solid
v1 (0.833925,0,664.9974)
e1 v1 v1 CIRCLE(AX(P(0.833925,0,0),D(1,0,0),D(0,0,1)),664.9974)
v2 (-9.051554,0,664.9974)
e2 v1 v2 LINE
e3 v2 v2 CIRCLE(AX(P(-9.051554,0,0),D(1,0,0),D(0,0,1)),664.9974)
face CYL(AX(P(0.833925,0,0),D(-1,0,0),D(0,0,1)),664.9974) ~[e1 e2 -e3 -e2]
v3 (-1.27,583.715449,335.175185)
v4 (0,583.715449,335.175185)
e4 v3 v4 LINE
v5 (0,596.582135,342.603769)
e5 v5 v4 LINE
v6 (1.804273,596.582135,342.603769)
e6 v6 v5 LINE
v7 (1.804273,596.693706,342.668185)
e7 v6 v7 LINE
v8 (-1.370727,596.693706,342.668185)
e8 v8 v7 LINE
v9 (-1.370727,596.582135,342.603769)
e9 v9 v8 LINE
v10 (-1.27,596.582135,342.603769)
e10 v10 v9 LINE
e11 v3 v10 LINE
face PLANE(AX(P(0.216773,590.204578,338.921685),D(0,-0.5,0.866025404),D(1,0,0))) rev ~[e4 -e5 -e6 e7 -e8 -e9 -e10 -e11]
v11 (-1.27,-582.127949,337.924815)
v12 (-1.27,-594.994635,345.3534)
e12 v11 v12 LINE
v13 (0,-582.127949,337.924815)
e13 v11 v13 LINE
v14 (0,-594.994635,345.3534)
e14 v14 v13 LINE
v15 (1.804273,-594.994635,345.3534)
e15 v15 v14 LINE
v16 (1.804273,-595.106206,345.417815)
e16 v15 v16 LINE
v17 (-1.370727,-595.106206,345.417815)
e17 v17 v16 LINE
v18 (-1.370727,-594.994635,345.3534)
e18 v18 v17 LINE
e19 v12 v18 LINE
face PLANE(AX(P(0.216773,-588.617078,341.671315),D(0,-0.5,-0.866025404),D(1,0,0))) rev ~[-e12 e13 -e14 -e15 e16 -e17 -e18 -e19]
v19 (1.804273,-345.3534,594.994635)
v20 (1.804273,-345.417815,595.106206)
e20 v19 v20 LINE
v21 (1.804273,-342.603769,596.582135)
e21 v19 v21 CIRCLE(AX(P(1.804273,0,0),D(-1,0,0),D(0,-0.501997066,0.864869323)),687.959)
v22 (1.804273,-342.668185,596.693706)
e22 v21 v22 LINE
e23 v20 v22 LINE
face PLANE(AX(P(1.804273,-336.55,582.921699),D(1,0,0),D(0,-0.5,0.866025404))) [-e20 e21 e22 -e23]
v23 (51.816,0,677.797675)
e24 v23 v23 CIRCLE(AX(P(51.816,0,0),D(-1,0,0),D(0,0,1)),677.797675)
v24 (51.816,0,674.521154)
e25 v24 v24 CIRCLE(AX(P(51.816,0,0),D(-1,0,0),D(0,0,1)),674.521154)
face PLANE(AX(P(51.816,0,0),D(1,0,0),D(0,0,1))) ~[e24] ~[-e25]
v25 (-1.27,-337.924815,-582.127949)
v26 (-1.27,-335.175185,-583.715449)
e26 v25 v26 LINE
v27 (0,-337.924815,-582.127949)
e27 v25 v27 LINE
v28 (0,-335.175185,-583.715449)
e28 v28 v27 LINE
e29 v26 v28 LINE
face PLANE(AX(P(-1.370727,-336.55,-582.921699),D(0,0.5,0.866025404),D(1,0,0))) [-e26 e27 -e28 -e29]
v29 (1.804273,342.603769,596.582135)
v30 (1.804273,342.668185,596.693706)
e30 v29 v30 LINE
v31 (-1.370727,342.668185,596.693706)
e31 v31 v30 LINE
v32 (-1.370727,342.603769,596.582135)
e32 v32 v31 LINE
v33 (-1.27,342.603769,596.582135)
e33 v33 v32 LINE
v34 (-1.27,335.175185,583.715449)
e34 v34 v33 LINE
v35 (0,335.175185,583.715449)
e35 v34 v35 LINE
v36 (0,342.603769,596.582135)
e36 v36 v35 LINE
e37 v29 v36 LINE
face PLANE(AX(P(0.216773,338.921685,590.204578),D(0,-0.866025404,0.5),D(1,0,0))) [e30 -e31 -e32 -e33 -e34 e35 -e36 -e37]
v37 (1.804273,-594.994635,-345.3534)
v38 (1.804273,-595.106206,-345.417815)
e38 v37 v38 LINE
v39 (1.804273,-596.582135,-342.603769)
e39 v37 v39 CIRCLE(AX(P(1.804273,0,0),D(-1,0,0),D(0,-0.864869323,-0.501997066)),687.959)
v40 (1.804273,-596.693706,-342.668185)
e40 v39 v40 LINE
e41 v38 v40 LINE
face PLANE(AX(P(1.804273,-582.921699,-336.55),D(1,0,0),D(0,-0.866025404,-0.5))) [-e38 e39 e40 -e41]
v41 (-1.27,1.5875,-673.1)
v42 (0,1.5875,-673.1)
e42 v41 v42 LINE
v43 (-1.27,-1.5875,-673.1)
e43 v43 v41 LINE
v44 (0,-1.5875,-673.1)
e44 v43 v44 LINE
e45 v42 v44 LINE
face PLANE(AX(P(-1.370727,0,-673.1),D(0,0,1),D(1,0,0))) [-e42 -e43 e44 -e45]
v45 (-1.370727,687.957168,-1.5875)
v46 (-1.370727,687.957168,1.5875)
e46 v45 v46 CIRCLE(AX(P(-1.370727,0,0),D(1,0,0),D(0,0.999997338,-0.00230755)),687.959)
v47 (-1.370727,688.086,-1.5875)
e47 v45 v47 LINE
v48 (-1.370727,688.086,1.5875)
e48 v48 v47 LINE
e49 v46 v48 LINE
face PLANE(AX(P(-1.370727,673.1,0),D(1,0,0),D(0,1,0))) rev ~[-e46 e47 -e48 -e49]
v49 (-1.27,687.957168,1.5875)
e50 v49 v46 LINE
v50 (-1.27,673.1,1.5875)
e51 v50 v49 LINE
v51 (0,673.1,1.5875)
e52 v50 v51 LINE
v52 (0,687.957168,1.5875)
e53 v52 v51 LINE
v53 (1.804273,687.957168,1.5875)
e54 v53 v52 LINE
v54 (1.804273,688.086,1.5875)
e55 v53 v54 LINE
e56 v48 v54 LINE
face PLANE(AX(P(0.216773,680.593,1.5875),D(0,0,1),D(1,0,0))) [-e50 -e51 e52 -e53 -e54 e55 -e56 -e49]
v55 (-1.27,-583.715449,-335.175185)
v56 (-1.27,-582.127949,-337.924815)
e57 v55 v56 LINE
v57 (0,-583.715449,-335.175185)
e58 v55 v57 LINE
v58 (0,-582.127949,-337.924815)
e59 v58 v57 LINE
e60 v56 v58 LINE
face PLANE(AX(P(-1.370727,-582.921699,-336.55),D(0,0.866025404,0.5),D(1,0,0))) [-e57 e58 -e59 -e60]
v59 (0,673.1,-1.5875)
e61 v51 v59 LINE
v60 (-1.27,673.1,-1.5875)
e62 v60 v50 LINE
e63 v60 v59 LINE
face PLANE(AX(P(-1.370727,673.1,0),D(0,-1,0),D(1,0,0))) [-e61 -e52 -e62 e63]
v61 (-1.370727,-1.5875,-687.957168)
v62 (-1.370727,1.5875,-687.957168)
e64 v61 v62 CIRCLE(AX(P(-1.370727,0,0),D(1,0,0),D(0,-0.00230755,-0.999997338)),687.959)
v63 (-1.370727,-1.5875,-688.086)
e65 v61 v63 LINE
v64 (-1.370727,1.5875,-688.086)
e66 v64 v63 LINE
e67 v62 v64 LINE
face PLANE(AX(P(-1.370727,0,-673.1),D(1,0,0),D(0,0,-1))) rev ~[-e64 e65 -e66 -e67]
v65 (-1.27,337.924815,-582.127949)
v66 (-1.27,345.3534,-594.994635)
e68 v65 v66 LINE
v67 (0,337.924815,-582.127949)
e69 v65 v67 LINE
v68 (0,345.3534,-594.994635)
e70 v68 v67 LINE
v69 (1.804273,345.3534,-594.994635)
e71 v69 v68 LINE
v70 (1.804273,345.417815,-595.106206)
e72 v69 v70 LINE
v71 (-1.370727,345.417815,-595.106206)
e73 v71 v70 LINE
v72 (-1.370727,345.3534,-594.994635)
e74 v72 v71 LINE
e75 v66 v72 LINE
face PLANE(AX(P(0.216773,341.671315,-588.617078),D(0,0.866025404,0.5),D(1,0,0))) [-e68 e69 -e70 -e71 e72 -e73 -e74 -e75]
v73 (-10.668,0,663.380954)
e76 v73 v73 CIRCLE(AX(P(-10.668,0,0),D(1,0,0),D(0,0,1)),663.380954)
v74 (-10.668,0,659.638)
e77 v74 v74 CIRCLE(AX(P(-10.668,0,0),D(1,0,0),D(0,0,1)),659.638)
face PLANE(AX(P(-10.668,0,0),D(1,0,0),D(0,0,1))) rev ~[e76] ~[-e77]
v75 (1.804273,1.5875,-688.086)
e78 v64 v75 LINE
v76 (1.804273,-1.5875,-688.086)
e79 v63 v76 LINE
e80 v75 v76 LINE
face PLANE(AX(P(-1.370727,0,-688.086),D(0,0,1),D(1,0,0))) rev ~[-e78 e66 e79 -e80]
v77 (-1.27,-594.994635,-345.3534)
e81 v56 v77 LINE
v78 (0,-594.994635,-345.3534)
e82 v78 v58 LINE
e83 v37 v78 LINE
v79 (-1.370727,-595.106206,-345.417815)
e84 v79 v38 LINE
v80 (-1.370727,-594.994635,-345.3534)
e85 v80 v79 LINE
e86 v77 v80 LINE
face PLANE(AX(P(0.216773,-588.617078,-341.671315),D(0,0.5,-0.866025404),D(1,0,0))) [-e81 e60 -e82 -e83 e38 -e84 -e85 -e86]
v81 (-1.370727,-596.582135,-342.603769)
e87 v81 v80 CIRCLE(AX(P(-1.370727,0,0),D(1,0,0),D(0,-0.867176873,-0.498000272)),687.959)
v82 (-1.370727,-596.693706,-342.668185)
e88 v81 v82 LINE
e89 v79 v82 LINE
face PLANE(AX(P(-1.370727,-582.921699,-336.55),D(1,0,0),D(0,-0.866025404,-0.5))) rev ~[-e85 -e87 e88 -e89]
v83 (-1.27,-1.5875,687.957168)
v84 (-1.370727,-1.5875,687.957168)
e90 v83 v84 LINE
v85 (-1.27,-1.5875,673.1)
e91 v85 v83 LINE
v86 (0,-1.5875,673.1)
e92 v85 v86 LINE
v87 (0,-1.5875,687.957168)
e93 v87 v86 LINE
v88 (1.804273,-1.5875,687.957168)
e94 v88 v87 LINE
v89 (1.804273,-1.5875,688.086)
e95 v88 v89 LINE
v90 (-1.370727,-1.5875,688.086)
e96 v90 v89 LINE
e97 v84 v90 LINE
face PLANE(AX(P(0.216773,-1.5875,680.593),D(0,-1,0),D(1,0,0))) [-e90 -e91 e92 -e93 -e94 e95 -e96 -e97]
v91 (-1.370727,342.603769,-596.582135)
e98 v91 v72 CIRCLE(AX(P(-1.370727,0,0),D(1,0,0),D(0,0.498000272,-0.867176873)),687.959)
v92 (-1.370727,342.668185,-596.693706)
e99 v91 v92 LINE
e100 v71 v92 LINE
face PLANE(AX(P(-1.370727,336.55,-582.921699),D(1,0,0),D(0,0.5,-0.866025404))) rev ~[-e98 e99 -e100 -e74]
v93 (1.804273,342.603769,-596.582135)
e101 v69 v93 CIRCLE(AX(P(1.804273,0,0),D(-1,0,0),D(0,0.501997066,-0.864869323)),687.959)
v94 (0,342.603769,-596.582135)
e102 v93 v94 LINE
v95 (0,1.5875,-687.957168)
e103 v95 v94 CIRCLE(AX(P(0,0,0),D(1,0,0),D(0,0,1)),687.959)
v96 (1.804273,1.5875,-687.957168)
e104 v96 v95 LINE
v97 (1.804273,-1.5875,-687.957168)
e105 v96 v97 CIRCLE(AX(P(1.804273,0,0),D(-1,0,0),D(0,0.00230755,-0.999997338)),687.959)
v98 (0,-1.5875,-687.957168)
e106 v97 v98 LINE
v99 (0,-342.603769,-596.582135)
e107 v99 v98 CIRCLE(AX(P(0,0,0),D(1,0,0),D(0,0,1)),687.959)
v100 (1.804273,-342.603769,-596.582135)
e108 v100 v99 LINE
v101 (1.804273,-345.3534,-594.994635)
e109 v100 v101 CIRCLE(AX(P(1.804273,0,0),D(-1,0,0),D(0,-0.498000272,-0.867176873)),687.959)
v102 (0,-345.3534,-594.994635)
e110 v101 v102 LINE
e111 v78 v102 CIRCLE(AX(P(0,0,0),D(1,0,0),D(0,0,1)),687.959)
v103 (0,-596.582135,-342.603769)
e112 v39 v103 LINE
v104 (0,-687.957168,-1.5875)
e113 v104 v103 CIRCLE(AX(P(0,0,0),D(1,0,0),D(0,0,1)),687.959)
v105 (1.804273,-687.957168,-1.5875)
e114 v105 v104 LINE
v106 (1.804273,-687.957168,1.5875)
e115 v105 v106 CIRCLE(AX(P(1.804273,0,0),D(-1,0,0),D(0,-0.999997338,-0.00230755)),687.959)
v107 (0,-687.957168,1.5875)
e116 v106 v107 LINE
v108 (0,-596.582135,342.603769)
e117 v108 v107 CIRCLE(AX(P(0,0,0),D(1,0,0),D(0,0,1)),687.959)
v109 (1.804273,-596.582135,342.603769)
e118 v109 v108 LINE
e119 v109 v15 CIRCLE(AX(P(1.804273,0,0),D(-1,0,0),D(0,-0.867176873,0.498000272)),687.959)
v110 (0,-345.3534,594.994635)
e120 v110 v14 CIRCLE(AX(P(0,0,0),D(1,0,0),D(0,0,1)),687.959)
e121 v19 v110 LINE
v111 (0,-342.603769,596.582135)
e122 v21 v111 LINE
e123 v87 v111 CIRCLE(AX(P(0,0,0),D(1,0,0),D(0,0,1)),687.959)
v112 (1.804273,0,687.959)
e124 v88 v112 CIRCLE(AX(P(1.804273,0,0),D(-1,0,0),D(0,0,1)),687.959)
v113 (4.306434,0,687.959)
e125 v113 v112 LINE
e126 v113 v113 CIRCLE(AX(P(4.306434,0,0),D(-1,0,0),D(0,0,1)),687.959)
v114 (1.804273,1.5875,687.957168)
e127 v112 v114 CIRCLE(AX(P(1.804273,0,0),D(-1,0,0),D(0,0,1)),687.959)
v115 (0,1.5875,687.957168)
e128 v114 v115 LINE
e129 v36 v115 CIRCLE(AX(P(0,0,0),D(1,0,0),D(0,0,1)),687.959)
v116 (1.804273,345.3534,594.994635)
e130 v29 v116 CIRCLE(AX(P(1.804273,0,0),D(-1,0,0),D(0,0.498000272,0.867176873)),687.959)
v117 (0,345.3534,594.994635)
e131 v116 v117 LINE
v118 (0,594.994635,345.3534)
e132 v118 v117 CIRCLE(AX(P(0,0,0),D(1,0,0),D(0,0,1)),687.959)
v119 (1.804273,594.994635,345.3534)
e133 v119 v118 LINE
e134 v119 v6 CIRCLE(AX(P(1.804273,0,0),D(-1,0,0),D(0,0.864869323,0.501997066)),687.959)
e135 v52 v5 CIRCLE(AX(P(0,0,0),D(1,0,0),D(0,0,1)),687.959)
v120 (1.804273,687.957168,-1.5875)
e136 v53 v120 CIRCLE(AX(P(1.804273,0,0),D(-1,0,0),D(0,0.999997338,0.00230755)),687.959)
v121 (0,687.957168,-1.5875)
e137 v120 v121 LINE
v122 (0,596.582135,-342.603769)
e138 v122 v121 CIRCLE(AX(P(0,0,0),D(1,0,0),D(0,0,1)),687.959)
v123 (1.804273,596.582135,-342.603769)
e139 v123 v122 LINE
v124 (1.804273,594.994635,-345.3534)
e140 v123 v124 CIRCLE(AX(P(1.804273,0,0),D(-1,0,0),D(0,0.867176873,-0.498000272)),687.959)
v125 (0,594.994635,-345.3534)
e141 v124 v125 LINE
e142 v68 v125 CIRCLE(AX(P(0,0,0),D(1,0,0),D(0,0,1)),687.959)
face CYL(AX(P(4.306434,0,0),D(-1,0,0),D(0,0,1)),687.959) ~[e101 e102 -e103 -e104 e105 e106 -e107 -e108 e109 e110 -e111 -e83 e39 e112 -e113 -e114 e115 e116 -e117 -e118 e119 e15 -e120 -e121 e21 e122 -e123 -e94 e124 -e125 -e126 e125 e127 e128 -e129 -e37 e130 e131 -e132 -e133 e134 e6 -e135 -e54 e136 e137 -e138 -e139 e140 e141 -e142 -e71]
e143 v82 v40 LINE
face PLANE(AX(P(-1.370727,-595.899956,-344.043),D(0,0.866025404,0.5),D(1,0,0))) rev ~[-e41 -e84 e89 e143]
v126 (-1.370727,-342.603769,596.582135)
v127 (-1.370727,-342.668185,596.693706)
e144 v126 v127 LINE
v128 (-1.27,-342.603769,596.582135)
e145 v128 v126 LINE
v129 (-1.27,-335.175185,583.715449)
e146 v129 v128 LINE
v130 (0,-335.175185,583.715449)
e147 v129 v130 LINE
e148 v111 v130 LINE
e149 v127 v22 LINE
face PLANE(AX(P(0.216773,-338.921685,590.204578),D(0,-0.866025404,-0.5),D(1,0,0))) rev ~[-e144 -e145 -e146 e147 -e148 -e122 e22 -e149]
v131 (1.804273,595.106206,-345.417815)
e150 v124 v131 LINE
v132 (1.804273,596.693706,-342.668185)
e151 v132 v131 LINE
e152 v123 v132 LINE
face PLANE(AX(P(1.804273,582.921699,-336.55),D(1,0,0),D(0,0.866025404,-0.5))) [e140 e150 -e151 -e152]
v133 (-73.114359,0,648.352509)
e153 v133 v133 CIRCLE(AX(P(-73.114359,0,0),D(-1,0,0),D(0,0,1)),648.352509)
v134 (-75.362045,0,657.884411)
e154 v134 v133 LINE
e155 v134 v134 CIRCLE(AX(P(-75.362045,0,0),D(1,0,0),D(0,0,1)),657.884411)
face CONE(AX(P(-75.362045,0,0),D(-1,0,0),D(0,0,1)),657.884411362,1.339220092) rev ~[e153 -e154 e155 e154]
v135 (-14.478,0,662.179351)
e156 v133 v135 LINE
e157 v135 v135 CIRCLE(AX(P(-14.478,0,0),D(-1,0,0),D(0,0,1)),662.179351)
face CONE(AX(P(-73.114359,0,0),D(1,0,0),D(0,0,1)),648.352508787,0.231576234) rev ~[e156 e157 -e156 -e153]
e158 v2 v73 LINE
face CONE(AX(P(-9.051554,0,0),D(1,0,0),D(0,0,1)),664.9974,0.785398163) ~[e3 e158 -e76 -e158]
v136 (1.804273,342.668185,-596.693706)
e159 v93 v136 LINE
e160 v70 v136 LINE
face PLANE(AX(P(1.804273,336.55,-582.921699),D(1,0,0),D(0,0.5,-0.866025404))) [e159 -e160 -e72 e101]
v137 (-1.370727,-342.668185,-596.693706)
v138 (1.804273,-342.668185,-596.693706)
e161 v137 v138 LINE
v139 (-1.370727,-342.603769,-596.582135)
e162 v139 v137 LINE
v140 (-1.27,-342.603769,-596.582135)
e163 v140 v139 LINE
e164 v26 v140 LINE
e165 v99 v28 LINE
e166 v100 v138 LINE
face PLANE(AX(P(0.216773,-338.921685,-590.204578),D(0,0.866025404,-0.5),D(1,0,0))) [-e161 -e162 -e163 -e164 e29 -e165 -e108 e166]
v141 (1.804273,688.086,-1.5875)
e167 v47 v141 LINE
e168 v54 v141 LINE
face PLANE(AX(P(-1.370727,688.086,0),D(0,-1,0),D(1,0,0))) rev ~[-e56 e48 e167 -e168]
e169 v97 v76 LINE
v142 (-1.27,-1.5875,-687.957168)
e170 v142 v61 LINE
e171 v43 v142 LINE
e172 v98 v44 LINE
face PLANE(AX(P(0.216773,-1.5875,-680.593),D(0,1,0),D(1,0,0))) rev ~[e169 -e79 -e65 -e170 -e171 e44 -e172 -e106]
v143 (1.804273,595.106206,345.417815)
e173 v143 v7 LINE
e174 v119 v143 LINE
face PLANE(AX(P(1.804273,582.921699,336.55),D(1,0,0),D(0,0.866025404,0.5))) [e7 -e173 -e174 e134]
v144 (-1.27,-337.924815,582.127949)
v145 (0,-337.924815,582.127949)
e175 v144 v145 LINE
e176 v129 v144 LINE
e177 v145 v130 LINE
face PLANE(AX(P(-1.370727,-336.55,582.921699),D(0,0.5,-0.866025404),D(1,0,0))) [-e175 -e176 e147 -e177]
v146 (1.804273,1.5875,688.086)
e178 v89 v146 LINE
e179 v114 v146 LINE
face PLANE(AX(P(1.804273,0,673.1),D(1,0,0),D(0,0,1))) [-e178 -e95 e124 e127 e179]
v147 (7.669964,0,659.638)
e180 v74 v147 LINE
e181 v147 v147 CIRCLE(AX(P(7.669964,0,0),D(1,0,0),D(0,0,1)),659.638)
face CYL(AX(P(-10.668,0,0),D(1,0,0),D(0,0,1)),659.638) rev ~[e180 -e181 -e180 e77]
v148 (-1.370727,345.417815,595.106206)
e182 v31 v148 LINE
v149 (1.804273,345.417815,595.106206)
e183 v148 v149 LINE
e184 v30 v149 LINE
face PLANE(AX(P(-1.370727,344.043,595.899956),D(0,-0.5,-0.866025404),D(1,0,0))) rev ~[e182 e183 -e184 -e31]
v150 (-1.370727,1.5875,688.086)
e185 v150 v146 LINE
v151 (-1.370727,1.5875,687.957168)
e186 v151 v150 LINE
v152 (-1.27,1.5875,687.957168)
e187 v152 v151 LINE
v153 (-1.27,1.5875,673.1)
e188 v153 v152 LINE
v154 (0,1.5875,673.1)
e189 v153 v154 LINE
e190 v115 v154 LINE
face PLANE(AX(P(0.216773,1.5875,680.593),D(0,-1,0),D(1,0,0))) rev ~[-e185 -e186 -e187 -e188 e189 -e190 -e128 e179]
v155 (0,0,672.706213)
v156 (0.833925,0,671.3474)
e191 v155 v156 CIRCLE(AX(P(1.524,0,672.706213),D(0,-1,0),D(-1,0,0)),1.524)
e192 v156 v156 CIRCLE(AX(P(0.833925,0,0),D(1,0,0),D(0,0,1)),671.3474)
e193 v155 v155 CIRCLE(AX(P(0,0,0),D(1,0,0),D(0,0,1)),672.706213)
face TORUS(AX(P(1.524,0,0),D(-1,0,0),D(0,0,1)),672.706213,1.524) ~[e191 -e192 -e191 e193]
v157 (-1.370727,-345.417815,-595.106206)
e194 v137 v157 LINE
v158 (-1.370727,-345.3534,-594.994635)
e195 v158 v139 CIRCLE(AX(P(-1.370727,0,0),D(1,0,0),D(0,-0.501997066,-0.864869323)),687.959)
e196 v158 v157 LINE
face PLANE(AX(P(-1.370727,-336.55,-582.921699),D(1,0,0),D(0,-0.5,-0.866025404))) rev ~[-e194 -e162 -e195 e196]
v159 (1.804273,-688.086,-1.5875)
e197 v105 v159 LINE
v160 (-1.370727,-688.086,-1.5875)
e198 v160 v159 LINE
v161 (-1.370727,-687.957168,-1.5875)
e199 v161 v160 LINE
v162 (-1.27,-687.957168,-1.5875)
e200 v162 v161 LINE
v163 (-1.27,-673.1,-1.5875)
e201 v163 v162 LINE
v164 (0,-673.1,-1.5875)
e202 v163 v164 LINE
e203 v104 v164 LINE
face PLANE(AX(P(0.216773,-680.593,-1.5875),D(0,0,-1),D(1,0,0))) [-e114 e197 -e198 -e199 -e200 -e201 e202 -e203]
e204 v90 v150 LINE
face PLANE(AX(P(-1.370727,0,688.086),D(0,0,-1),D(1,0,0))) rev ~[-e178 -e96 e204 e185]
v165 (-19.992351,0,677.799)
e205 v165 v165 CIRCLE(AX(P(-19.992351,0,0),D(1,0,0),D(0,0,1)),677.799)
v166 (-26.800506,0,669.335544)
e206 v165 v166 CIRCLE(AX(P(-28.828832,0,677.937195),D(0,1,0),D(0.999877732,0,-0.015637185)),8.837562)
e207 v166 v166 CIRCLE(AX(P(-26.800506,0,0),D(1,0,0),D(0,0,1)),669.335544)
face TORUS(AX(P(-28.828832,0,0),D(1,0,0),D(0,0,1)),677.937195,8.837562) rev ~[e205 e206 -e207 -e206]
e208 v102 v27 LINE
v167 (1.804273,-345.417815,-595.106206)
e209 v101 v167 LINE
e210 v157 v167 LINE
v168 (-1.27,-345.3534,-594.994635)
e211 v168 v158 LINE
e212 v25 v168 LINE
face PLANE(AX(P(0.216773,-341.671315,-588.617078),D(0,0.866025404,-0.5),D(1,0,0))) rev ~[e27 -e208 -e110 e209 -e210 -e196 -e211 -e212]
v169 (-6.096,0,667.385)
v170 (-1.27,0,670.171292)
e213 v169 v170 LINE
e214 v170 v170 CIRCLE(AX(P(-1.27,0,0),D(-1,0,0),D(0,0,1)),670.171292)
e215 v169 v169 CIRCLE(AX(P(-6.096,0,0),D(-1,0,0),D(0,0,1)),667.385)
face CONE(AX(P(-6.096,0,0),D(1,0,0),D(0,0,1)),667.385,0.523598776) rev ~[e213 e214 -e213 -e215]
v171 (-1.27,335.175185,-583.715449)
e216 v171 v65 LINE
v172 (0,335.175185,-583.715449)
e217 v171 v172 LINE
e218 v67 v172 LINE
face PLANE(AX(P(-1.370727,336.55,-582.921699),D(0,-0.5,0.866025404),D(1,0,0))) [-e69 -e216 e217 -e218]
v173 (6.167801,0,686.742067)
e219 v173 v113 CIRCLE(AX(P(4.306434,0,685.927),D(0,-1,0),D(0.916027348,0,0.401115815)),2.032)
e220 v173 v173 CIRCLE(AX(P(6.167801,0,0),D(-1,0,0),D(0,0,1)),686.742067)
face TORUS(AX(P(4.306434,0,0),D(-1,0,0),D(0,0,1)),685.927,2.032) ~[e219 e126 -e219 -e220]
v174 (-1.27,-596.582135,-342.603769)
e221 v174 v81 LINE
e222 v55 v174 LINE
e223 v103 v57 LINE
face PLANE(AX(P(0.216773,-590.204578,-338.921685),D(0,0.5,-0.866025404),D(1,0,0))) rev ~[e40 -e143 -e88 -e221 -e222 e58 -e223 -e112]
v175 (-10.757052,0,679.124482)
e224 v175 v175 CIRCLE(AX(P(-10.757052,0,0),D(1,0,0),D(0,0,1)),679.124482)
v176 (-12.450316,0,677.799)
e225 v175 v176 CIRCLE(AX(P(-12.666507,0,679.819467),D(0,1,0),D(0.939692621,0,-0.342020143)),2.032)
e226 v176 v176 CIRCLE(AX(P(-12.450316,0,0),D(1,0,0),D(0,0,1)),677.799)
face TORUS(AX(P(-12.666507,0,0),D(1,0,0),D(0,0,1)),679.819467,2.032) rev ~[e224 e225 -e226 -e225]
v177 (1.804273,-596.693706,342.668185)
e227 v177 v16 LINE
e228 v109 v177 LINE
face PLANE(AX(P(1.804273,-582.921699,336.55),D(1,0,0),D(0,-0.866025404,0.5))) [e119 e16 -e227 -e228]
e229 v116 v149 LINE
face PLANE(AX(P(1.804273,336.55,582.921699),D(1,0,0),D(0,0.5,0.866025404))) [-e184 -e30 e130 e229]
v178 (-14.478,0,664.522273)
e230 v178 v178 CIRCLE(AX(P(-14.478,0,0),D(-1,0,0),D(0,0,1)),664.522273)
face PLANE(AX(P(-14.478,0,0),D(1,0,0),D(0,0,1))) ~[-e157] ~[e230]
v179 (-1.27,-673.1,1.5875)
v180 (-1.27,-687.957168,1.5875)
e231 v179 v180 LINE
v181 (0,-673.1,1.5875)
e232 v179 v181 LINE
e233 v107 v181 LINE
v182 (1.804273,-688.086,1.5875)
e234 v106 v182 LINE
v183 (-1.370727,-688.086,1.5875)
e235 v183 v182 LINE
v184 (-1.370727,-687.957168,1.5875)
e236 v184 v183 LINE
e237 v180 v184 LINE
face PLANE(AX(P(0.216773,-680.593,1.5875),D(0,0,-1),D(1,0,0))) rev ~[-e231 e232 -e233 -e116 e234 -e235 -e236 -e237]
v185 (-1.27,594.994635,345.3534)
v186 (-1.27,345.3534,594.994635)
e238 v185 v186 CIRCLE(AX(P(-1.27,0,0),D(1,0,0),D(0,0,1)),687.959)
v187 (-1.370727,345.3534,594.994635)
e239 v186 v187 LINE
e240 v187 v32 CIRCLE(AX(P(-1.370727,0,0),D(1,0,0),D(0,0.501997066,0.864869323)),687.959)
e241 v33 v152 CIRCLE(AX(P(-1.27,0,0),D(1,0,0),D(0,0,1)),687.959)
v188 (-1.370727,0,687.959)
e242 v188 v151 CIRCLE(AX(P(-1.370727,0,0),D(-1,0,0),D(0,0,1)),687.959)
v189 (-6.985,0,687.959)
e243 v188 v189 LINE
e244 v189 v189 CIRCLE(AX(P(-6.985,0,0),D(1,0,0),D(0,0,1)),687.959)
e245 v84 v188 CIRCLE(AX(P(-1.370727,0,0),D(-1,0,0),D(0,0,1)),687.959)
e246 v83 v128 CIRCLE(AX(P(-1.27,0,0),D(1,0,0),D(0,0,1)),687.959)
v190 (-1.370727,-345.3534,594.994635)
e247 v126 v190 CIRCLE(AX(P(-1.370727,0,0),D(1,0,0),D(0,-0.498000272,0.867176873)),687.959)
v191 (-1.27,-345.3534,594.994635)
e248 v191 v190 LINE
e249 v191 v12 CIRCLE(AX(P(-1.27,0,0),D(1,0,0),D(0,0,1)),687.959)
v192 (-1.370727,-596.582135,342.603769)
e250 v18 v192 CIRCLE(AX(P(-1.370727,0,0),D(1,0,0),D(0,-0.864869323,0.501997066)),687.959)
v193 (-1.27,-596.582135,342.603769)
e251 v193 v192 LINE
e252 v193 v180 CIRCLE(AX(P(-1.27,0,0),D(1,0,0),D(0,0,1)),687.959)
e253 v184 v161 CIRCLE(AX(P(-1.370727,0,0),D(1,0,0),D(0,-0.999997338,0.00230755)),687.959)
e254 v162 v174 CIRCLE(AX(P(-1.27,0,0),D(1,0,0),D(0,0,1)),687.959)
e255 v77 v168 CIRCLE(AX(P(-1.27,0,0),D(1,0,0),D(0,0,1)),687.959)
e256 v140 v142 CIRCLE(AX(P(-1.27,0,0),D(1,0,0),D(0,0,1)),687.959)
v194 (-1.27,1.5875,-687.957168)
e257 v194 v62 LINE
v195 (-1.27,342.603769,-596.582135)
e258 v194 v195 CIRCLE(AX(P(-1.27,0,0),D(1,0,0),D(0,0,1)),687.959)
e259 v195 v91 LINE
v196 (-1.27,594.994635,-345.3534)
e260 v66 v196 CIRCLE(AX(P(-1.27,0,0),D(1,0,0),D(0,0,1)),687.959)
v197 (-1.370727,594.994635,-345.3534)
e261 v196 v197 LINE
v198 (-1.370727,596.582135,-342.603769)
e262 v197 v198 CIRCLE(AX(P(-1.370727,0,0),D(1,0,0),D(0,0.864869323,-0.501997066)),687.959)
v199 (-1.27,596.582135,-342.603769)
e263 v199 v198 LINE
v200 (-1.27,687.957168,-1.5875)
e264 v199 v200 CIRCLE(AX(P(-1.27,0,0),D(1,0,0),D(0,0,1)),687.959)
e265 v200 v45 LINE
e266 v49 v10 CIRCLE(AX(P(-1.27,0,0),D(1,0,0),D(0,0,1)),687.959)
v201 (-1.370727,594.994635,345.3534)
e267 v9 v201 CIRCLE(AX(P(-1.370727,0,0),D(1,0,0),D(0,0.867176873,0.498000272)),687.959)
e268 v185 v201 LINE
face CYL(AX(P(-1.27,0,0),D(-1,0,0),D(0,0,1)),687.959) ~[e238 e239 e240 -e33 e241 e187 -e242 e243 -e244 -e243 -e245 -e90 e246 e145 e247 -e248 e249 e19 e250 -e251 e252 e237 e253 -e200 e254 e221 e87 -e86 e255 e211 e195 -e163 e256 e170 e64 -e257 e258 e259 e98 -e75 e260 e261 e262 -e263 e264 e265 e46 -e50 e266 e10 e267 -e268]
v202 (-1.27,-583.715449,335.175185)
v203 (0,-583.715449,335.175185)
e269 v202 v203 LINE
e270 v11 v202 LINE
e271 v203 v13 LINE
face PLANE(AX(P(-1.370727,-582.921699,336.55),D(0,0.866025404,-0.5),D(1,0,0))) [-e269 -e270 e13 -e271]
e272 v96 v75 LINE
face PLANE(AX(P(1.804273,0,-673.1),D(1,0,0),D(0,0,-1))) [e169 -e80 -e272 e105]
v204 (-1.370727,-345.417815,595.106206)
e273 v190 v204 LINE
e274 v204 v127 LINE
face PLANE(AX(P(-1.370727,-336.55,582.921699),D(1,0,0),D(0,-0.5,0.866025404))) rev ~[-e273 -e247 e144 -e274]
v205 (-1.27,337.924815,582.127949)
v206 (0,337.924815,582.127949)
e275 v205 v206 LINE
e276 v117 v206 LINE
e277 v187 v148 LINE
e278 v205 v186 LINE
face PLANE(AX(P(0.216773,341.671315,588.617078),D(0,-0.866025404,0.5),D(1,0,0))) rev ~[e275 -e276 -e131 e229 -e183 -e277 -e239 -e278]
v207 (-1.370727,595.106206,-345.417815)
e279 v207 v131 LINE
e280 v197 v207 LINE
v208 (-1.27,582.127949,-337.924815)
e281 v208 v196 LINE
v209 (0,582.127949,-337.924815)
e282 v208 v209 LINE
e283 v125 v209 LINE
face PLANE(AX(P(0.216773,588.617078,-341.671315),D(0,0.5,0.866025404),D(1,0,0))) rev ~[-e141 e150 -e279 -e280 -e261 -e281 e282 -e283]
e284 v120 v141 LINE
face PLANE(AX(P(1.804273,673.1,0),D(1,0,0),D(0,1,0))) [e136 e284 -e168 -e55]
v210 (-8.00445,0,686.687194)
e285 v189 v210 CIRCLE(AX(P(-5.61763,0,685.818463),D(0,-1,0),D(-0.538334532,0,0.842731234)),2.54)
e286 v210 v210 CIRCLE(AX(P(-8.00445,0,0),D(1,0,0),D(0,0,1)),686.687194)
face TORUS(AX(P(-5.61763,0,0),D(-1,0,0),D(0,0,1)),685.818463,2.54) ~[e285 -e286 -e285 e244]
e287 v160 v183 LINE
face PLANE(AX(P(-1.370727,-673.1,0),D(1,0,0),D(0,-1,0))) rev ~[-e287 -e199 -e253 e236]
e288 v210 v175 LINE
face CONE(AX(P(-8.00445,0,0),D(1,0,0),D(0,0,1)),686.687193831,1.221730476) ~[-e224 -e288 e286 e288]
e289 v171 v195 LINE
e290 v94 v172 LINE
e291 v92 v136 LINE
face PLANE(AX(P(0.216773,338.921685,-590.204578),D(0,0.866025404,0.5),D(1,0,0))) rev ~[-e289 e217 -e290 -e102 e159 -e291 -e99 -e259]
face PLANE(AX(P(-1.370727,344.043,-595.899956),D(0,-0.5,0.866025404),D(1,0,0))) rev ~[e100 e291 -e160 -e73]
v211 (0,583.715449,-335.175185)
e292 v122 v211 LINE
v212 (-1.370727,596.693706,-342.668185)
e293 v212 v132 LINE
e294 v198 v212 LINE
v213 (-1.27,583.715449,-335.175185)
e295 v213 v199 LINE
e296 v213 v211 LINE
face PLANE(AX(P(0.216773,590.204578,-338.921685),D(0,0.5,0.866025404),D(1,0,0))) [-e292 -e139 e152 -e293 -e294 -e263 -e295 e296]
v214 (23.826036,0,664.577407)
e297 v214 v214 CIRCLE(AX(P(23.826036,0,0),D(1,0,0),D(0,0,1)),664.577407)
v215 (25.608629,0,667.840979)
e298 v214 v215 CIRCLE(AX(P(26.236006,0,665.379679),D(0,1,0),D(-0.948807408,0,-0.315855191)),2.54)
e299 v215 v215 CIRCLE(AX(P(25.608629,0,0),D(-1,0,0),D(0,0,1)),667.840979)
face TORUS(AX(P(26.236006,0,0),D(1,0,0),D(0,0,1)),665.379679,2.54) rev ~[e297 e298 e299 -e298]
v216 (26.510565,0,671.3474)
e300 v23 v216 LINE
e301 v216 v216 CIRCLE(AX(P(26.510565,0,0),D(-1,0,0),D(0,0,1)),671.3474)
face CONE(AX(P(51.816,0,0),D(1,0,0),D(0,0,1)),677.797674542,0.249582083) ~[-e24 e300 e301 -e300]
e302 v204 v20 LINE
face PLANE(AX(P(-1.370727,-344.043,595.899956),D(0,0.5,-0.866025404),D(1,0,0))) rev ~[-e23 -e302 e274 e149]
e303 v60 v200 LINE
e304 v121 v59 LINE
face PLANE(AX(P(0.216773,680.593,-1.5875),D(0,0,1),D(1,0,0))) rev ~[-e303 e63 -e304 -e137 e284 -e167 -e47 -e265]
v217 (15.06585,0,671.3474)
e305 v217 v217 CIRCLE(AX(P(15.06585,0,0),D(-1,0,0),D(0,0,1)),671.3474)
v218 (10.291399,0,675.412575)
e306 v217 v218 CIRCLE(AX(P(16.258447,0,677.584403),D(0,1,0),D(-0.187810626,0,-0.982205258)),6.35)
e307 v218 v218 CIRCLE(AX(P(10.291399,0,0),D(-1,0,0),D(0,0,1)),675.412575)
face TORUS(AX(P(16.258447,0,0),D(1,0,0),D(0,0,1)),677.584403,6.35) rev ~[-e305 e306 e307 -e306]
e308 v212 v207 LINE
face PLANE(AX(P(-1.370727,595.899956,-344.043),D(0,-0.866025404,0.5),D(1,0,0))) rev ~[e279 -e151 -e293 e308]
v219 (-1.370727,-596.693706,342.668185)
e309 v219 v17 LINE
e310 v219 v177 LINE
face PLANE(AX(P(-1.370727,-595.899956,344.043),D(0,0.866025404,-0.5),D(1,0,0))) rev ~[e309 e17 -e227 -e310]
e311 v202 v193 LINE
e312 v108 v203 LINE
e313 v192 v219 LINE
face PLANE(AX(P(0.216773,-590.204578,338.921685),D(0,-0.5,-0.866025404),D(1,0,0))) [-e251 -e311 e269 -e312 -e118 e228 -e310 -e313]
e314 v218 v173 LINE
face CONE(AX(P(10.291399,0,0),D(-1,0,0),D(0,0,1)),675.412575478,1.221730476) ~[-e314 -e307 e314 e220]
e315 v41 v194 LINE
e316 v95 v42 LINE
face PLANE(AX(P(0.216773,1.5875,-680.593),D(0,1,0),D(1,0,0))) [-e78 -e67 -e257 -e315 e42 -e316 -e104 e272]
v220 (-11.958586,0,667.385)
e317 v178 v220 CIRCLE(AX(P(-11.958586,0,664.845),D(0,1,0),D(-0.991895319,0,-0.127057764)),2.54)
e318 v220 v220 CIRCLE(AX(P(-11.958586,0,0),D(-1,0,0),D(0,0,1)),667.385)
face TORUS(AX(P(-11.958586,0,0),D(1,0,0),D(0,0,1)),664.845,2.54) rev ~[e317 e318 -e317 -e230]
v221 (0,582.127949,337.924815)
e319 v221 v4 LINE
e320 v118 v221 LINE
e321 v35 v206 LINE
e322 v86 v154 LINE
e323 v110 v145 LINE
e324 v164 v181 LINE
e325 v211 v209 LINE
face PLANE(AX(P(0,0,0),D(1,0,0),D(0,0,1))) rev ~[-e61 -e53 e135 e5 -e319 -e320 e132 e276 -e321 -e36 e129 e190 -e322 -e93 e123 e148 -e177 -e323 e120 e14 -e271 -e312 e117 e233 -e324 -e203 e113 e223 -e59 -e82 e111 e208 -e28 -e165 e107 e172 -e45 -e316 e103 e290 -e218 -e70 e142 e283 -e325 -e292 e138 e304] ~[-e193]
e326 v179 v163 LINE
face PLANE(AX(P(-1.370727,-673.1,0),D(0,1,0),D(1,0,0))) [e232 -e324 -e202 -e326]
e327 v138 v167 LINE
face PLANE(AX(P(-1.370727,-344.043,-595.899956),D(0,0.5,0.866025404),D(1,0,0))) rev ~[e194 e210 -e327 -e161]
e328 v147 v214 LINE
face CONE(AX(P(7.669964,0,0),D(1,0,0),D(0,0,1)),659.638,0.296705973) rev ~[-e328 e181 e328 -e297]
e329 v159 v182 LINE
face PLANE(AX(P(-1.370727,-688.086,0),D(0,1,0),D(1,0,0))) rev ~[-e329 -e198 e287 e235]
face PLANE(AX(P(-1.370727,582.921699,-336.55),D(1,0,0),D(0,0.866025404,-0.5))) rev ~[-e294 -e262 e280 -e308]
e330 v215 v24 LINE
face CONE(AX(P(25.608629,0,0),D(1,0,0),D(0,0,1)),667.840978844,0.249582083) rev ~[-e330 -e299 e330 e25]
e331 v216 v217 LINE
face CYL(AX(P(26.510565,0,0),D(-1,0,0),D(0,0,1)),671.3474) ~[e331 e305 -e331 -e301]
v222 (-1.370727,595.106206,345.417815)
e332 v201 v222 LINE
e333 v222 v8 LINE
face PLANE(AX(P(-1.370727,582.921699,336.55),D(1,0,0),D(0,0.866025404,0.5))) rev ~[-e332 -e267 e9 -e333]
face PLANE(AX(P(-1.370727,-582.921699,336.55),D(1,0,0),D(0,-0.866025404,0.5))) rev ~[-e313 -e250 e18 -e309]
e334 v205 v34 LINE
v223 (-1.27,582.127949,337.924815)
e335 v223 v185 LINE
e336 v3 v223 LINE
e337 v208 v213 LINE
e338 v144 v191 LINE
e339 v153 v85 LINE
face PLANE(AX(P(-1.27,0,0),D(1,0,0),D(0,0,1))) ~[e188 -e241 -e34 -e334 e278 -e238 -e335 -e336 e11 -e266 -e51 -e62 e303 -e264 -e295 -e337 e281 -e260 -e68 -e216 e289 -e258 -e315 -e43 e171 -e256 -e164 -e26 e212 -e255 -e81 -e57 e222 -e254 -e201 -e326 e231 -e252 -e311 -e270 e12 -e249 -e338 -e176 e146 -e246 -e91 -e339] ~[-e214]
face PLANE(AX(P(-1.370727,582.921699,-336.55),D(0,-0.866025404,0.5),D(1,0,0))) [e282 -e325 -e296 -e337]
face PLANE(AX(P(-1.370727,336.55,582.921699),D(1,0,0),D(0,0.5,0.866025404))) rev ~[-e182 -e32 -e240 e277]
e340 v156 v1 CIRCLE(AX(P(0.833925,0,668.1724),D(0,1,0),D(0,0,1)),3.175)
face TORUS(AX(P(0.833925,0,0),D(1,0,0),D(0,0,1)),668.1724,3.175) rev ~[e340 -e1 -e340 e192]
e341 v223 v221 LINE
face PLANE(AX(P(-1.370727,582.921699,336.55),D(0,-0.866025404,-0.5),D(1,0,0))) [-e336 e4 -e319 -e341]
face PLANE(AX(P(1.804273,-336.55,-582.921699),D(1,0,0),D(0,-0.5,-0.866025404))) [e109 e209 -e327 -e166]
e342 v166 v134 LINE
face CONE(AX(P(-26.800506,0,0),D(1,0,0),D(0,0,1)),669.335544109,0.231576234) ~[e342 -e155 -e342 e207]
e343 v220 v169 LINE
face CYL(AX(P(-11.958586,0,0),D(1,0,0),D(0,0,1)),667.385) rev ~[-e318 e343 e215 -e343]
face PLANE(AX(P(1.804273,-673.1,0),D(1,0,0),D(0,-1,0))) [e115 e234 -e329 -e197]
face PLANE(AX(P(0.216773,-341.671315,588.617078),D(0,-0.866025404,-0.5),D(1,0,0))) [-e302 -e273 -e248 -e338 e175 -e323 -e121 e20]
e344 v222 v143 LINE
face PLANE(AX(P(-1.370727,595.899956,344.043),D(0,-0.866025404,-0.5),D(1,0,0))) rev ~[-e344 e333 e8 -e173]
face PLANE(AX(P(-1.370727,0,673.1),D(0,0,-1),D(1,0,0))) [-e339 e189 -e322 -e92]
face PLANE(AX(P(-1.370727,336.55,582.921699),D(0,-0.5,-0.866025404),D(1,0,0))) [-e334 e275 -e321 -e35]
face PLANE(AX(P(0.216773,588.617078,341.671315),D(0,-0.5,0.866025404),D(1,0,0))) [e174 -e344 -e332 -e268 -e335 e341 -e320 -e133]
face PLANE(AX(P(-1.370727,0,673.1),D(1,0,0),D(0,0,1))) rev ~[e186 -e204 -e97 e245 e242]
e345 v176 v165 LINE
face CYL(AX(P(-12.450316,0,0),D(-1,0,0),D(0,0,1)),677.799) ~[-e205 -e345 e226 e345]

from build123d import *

# Parameters (mm, degrees)
F4_W     = 3.175
F4_H     = 14.986
F5_DEPTH = 1.5875
F6_COUNT = 12


with BuildPart() as f3:
    # F1 (on Front) → F3 (revolve)
    with BuildSketch(Plane.XZ):
        with BuildLine():
            Line((-1.27, 670.1712923991), (-1.27, 687.959))
            Line((-1.27, 687.959), (-6.985, 687.959))
            ThreePointArc((-6.985, 687.959), (-7.599512333, 687.4070921284), (-8.0044495466, 686.6871938307))
            Line((-8.0044495466, 686.6871938307), (-10.7570516311, 679.1244817587))
            ThreePointArc((-10.7570516311, 679.1244817587), (-11.4139823231, 678.2194023655), (-12.450316484, 677.799))
            Line((-12.450316484, 677.799), (-19.9923507783, 677.799))
            ThreePointArc((-19.9923507783, 677.799), (-21.9427205133, 672.3978835561), (-26.8005058169, 669.3355441093))
            Line((-26.8005058169, 669.3355441093), (-75.3620451779, 657.8844113618))
            Line((-75.3620451779, 657.8844113618), (-73.1143593928, 648.3525087867))
            Line((-73.1143593928, 648.3525087867), (-14.478, 662.179350853))
            Line((-14.478, 662.179350853), (-14.478, 664.5222732794))
            ThreePointArc((-14.478, 664.5222732794), (-13.865327333, 666.523075405), (-11.9585858888, 667.385))
            Line((-11.9585858888, 667.385), (-6.096, 667.385))
            Line((-6.096, 667.385), (-1.27, 670.1712923991))
        make_face()
    revolve(axis=Axis((11.9134820998, 0, 0), (1, 0, 0)))



with BuildPart() as f3b:
    # F0 (on Front) → F3, piece 2 (revolve)
    with BuildSketch(Plane.XZ):
        with BuildLine():
            Line((4.3064335256, 687.959), (0, 687.959))
            Line((0, 687.959), (0, 672.7062127095))
            ThreePointArc((0, 672.7062127095), (0.2251060727, 671.909061177), (0.8339246269, 671.3474))
            ThreePointArc((0.8339246269, 671.3474), (4.0089246269, 668.1724), (0.8339246269, 664.9974))
            Line((0.8339246269, 664.9974), (-9.0515538982, 664.9974))
            Line((-9.0515538982, 664.9974), (-10.668, 663.3809538982))
            Line((-10.668, 663.3809538982), (-10.668, 659.638))
            Line((-10.668, 659.638), (7.6699643285, 659.638))
            Line((7.6699643285, 659.638), (23.8260356715, 664.5774067014))
            ThreePointArc((23.8260356715, 664.5774067014), (24.0068593491, 666.5972596962), (25.6086289967, 667.8409788441))
            Line((25.6086289967, 667.8409788441), (51.816, 674.5211539476))
            Line((51.816, 674.5211539476), (51.816, 677.7976745418))
            Line((51.816, 677.7976745418), (26.5105648326, 671.3474))
            Line((26.5105648326, 671.3474), (15.065849572, 671.3474))
            ThreePointArc((15.065849572, 671.3474), (12.1418289852, 672.7495346467), (10.291398903, 675.4125754783))
            Line((10.291398903, 675.4125754783), (6.167801097, 686.742067337))
            ThreePointArc((6.167801097, 686.742067337), (5.4183703878, 687.6277705355), (4.3064335256, 687.959))
        make_face()
    revolve(axis=Axis((11.9134820998, 0, 0), (1, 0, 0)))


with BuildPart() as f3_1:
    add(f3.part)

    add(f3b.part)  # F5 merges F3b
    # F4 (on Front) → F5 (join, symmetric)
    with BuildSketch(Plane.XZ):
        with Locations((0.2167733427, 680.593)):
            Rectangle(F4_W, F4_H)
    extrude(amount=F5_DEPTH, both=True)

    # F6: F3 ×12 about axis
    f6_axis = Axis((0, 0, 0), (1, 0, 0))


with BuildPart() as f3_2:
    add(f3_1.part)
    for i in range(1, F6_COUNT):
        add(f3_1.part.rotate(f6_axis, i * 360 / F6_COUNT))


solid = f3_2.part
